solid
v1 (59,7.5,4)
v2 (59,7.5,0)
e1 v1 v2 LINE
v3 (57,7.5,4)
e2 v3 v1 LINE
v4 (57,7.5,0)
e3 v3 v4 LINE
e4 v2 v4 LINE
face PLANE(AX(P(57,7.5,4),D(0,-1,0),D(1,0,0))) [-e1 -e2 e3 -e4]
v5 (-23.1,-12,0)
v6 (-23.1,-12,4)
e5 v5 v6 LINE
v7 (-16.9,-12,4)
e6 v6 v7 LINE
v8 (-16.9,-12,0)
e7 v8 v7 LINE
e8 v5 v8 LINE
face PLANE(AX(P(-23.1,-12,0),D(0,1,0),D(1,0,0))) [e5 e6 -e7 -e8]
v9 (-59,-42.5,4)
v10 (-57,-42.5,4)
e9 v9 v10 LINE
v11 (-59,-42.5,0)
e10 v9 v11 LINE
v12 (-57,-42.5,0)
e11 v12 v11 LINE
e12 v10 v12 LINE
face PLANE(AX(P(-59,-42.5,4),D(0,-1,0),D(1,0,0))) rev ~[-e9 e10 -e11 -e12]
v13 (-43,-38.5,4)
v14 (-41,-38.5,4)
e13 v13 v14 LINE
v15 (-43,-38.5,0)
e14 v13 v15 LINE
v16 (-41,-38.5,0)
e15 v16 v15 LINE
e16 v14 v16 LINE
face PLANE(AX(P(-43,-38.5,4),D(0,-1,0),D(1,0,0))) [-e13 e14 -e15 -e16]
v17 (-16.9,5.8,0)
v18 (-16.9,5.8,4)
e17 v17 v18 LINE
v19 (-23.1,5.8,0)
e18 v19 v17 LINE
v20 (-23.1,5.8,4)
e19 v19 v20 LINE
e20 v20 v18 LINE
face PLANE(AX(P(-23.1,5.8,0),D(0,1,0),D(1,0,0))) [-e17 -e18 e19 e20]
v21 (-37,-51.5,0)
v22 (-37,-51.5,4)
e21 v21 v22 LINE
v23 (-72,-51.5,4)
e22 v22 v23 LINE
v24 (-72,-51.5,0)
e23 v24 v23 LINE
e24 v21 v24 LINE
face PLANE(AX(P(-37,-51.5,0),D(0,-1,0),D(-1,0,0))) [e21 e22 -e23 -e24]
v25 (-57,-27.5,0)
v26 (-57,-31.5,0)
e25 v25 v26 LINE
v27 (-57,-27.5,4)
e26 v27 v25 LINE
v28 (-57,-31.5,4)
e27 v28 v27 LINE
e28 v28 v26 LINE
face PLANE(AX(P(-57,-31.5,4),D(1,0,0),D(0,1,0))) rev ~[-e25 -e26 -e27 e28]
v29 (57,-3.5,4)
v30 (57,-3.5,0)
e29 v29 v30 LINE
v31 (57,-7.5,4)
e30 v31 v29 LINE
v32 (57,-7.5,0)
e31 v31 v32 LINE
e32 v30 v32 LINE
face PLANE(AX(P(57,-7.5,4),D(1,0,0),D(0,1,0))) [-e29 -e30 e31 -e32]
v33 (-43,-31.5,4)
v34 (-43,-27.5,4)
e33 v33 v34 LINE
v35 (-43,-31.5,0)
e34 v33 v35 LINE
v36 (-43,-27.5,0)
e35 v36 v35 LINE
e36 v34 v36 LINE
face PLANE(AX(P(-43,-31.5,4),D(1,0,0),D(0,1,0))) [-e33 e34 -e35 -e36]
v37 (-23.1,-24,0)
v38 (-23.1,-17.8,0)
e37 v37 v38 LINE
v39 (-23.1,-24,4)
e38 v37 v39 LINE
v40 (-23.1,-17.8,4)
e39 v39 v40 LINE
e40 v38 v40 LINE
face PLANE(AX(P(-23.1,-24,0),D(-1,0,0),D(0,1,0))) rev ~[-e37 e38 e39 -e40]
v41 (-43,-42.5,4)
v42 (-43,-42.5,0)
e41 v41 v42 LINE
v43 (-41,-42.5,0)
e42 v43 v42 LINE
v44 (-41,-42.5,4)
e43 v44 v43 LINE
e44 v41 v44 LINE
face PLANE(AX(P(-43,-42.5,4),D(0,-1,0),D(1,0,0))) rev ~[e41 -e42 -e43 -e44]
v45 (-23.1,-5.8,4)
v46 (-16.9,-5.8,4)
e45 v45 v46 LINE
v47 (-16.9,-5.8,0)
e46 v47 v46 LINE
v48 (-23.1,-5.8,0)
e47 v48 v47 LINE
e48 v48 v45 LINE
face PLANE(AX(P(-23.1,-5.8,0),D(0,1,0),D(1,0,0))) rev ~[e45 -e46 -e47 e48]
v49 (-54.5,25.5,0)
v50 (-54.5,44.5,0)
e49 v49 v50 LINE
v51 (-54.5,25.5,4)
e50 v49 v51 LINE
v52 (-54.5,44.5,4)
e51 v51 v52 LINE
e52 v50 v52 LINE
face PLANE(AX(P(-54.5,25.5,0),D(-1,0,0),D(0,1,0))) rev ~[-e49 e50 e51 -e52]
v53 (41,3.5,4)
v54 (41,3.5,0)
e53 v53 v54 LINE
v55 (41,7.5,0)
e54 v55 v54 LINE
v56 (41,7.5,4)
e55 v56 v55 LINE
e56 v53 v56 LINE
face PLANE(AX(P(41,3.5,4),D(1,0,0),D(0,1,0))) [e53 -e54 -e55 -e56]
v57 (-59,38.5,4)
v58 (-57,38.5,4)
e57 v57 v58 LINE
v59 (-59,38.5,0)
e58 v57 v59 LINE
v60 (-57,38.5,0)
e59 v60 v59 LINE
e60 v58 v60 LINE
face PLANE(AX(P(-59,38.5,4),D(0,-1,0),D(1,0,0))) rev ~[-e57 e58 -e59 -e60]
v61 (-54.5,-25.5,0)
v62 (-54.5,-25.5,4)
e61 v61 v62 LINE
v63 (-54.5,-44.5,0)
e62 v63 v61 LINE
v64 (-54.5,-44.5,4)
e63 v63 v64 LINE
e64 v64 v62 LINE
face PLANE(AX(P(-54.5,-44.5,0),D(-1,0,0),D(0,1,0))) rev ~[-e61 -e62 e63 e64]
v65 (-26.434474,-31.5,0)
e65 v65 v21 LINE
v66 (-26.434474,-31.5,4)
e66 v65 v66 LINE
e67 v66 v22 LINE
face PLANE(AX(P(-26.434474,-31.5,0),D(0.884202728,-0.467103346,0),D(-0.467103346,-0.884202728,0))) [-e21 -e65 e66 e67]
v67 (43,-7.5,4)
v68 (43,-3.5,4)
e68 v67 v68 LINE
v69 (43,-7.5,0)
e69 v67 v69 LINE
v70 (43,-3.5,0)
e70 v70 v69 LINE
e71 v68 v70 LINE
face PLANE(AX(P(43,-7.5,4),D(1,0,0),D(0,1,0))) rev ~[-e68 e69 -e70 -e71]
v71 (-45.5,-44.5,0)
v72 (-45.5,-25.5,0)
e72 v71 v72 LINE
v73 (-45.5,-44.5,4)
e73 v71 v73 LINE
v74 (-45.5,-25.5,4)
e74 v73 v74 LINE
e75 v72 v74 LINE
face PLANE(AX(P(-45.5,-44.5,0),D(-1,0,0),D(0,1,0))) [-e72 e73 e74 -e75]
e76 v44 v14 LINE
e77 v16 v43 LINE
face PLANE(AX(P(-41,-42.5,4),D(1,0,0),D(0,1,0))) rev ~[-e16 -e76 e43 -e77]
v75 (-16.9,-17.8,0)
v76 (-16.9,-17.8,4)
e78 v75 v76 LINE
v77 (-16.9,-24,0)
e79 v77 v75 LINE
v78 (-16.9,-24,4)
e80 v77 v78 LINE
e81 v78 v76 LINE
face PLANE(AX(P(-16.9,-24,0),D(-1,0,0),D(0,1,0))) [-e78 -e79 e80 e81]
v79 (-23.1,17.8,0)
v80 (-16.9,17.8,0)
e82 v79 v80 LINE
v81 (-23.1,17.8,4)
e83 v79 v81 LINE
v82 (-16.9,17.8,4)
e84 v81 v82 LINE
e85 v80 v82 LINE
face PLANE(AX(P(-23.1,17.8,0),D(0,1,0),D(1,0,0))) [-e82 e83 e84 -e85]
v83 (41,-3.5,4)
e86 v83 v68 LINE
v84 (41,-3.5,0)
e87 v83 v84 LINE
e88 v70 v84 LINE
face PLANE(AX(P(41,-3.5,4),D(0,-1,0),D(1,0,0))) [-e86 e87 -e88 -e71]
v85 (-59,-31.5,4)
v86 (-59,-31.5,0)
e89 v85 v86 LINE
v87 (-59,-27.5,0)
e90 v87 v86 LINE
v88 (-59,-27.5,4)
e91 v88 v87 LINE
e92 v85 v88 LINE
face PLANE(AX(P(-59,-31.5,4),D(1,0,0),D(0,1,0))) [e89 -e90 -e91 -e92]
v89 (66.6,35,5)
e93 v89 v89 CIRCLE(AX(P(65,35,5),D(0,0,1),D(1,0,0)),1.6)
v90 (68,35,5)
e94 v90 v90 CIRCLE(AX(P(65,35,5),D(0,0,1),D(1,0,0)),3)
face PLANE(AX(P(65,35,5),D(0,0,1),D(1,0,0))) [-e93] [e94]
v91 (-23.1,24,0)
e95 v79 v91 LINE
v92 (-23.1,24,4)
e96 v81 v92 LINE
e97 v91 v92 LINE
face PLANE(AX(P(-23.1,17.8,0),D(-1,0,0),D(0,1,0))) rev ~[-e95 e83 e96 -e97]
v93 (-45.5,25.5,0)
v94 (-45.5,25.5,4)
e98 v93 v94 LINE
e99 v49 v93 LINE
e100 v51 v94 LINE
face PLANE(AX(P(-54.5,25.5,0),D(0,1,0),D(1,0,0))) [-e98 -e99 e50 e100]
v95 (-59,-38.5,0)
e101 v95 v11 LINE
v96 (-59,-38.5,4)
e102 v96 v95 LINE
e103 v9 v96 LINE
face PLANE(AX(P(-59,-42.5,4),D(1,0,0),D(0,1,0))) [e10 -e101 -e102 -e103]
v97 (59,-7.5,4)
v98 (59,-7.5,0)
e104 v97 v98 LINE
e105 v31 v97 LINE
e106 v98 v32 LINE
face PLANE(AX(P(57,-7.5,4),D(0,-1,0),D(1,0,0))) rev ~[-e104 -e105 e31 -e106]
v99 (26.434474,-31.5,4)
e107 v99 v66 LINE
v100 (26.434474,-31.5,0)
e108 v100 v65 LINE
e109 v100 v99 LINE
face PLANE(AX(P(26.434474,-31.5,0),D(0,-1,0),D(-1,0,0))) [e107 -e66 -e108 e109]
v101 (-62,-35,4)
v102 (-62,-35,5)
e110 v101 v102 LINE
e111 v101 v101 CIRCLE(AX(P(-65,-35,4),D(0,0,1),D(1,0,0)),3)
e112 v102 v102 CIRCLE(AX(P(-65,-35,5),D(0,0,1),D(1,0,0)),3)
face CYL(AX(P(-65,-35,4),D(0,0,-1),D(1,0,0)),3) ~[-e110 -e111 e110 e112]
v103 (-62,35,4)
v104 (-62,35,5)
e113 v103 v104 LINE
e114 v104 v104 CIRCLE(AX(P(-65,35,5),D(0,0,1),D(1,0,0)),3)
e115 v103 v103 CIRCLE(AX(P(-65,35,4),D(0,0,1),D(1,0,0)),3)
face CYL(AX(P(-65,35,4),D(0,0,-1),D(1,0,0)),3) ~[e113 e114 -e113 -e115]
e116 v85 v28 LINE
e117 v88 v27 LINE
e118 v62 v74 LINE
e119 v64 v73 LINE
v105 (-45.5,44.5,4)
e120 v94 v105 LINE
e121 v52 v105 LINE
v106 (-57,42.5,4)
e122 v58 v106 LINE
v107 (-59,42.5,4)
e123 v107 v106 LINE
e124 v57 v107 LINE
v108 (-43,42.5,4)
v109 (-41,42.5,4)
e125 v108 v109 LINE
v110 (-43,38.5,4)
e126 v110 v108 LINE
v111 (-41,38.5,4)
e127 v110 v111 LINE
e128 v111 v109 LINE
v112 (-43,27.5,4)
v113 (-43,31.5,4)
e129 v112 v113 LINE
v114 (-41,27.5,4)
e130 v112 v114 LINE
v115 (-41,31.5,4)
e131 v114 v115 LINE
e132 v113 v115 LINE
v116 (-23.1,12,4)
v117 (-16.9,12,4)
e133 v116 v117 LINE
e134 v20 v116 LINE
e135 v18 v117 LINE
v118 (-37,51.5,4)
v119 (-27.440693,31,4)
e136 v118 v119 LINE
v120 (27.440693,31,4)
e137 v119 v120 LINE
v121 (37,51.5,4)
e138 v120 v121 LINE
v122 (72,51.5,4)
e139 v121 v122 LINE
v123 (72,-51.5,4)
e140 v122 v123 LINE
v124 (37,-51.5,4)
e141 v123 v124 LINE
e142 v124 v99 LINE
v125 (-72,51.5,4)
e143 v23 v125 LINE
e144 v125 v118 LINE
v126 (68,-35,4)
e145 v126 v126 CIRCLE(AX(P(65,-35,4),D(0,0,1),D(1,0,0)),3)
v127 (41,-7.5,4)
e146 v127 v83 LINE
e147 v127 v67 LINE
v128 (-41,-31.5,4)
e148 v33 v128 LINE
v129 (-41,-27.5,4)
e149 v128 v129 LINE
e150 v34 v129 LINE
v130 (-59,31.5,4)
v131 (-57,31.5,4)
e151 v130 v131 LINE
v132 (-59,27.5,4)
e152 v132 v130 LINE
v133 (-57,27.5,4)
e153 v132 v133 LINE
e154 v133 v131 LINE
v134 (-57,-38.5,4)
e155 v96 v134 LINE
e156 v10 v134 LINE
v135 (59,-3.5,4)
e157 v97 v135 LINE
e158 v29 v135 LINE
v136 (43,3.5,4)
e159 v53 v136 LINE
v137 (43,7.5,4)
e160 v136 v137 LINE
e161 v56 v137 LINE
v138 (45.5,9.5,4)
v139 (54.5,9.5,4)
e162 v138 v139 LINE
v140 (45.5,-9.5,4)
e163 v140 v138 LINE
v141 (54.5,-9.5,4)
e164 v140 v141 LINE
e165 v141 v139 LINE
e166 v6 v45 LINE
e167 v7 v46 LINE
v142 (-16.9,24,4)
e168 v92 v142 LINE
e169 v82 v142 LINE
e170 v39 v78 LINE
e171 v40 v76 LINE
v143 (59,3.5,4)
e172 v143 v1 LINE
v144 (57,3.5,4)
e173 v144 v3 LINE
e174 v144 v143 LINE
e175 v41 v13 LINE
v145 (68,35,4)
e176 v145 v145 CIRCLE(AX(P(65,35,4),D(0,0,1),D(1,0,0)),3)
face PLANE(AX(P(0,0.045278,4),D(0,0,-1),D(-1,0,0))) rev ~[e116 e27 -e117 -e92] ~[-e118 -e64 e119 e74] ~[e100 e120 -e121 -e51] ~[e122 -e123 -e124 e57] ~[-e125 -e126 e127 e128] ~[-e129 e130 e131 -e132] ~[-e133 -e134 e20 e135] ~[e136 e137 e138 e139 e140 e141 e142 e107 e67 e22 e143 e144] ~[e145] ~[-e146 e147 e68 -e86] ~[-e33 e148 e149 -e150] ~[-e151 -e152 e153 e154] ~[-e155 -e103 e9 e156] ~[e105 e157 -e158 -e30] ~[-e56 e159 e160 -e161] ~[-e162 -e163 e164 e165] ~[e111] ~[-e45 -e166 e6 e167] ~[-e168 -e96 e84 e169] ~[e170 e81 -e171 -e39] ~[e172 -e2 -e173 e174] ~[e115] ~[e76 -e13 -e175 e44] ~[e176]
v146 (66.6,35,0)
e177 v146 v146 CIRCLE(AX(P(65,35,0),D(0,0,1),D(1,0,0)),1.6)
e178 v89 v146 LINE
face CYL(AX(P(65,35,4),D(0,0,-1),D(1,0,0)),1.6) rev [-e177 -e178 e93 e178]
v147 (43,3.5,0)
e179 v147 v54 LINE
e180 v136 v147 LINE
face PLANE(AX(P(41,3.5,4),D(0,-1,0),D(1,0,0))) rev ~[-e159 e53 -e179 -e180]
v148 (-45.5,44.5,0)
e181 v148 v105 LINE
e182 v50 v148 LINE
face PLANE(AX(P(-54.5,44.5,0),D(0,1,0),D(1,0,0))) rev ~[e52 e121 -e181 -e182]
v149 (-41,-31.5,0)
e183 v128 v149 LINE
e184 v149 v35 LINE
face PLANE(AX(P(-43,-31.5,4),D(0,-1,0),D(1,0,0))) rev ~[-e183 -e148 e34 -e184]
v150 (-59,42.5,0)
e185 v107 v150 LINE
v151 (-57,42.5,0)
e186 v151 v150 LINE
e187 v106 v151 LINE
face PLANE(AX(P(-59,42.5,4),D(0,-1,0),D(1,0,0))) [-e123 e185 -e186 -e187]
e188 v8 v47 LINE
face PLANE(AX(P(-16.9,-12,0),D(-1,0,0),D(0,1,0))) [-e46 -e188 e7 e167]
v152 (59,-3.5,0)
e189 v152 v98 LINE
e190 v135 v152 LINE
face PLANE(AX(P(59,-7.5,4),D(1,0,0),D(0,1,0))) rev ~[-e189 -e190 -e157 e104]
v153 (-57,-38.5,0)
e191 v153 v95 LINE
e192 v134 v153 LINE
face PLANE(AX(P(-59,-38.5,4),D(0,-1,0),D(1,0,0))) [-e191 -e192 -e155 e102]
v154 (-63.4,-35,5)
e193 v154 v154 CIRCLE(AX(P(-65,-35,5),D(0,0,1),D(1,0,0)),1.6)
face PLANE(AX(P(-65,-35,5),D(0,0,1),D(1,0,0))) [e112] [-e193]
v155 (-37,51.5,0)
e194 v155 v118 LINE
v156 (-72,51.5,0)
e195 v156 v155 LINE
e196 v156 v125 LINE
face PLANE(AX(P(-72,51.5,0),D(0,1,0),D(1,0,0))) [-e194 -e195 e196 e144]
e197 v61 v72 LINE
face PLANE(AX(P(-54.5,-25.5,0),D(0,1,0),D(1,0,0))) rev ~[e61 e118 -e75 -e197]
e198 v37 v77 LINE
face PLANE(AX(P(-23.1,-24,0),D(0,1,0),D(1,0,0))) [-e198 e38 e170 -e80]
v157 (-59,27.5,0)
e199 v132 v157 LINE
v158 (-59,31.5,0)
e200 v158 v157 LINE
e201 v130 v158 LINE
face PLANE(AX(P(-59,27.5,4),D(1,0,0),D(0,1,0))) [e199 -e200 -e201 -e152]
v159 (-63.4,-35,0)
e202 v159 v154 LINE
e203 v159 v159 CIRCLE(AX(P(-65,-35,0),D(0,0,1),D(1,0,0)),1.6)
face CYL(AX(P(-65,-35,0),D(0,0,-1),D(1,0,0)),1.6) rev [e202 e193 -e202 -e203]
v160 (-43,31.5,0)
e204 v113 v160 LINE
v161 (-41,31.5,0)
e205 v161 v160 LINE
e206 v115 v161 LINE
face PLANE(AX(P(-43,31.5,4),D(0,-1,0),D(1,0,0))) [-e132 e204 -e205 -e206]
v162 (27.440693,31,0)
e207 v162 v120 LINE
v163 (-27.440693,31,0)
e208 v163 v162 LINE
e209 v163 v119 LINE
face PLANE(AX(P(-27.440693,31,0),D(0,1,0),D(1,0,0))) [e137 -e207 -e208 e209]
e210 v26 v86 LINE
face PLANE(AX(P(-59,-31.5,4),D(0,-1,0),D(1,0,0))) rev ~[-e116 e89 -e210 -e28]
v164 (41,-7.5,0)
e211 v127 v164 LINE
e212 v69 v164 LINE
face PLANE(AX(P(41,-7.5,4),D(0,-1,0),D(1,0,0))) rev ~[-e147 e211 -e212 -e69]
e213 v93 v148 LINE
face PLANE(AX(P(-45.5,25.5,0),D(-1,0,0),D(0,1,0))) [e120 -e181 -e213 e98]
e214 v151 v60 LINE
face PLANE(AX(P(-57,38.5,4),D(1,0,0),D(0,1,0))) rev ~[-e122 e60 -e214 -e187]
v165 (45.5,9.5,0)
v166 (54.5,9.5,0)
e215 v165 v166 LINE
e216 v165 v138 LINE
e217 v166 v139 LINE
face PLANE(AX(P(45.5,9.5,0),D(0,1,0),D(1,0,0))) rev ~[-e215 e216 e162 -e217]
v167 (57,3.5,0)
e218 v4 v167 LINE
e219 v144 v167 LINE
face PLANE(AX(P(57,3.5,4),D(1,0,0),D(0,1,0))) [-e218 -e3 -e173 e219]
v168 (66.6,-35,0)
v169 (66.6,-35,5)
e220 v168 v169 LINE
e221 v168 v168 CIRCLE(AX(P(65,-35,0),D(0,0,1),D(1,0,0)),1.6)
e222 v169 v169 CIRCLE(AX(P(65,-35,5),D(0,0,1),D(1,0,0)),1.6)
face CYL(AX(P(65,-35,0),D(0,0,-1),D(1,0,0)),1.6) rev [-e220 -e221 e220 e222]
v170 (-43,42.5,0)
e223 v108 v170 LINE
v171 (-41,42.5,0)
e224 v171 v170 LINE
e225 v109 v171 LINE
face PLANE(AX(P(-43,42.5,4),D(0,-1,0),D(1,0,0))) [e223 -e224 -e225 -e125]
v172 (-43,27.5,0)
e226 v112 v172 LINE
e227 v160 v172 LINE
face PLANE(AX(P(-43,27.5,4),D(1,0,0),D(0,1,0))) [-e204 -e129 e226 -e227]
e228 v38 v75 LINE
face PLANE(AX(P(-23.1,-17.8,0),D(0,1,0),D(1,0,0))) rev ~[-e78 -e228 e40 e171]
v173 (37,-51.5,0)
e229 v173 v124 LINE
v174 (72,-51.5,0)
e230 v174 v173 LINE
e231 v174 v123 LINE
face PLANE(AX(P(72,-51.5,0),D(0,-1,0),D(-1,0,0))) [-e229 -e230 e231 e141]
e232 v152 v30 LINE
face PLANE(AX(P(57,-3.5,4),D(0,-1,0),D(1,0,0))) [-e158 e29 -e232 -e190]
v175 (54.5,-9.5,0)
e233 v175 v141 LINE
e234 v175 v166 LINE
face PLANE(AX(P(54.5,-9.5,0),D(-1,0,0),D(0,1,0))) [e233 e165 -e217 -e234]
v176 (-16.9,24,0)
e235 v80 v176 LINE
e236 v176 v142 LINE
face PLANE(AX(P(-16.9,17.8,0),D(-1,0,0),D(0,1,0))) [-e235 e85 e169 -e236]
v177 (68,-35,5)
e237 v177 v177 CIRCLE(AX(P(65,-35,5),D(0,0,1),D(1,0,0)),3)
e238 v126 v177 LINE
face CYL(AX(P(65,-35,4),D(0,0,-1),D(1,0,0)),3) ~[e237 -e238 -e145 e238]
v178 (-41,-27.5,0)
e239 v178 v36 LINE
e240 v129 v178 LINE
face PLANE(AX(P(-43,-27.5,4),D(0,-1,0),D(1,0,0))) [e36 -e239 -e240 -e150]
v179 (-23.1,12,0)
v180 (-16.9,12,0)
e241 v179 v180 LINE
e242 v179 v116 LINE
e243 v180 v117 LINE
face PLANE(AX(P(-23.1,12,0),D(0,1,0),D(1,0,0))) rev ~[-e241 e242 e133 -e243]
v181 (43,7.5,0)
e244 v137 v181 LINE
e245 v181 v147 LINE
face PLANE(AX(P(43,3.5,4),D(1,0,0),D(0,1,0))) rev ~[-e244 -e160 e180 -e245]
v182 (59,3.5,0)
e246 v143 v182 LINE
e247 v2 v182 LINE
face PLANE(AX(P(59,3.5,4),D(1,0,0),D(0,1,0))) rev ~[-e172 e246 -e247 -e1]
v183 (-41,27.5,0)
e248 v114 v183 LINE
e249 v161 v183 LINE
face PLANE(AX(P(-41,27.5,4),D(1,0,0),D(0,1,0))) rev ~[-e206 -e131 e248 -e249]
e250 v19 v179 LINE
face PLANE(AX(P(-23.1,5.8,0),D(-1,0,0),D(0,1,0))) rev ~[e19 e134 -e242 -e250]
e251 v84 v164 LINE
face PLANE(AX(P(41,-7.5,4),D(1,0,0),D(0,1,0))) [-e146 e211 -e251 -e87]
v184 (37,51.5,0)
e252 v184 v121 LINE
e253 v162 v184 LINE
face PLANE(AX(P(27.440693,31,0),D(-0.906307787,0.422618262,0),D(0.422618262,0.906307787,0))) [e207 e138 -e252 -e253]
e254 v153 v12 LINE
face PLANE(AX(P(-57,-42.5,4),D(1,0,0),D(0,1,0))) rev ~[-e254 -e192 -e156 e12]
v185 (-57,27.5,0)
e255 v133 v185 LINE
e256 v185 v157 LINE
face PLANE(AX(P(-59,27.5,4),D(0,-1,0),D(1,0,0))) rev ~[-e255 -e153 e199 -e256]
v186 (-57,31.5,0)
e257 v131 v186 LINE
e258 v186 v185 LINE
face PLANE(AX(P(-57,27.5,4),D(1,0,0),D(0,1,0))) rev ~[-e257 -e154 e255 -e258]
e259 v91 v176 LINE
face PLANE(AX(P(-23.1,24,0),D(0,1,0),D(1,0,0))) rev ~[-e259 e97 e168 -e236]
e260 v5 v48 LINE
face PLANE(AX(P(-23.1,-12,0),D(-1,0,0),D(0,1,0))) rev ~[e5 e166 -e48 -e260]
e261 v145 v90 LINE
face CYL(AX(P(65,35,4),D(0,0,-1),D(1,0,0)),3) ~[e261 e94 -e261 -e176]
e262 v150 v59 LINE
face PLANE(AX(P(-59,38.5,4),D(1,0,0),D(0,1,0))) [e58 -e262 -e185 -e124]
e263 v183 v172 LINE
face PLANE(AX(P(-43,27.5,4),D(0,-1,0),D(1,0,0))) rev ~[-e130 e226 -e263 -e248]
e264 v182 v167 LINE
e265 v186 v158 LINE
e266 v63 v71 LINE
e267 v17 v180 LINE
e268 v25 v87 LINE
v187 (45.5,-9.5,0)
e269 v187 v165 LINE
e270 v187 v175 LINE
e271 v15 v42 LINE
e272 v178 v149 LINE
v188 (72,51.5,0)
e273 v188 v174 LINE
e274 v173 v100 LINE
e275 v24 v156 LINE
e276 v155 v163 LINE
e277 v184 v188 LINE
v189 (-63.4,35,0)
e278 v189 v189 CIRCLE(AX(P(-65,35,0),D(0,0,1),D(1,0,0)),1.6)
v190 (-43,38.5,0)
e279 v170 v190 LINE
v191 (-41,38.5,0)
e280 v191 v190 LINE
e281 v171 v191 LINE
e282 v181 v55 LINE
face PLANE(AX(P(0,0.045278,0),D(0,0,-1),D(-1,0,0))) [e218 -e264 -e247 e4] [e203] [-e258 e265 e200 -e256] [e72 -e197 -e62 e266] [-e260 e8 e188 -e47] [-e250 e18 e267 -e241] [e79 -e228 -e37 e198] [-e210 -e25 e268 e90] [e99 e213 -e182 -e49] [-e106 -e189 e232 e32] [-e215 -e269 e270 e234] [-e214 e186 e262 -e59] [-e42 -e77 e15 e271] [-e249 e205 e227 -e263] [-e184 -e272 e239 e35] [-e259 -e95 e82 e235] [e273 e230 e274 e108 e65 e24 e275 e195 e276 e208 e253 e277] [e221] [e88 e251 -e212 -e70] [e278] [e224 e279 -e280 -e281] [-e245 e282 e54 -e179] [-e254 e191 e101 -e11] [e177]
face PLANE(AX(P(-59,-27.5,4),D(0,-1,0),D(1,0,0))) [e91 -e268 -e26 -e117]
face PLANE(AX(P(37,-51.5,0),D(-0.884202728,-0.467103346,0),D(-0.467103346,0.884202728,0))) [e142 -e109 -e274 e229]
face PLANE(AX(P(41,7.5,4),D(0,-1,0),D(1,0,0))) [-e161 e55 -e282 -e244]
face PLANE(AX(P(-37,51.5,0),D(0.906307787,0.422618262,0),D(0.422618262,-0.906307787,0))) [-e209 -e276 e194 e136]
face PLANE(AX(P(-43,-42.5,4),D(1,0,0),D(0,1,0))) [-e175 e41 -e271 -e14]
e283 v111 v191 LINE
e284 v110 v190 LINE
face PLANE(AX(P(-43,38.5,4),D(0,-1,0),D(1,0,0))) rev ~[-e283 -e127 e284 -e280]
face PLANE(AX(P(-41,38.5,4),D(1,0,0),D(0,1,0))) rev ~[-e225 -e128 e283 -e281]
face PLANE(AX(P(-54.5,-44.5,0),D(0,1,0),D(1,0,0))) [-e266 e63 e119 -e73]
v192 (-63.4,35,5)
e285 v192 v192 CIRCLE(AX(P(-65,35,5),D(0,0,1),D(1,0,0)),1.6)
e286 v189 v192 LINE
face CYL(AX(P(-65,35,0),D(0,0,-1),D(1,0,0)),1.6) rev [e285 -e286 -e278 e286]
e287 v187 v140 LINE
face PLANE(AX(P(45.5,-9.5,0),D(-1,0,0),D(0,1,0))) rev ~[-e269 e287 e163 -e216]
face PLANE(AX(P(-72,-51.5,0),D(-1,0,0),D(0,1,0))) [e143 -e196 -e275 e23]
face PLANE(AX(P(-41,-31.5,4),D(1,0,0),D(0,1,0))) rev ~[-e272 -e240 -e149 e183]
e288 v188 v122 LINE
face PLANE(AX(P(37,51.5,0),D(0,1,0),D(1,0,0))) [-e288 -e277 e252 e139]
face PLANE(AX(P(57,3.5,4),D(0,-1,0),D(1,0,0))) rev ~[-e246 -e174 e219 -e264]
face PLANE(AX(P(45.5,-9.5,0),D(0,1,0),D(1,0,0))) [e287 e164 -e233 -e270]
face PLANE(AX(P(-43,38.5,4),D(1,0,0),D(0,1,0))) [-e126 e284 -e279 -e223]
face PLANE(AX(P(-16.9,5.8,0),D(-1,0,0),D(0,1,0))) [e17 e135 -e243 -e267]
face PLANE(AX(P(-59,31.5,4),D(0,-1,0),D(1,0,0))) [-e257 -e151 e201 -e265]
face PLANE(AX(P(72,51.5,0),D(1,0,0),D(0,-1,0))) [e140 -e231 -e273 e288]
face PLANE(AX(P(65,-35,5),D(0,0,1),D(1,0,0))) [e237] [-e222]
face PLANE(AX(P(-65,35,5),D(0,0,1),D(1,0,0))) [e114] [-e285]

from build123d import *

# Parameters (mm, degrees)
SKETCH_R      = 1.6
SKETCH_W      = 9
SKETCH_H      = 19
SKETCH_W_2    = 6.2
SKETCH_H_2    = 6.2
PAD_DEPTH     = 4
SKETCH001_R   = 3
SKETCH001_R_2 = 1.6
PAD001_DEPTH  = 1
SKETCH002_W   = 2
SKETCH002_H   = 4
POCKET_DEPTH  = 4.001


with BuildPart() as part:
    # Sketch → Pad (new body)
    with BuildSketch(Plane.XY):
        Polygon((-72, 51.5), (-37, 51.5), (-27.440693, 31), (27.440693, 31), (37, 51.5), (72, 51.5), (72, -51.5), (37, -51.5), (26.434474, -31.5), (-26.434474, -31.5), (-37, -51.5), (-72, -51.5), align=None)
        with Locations((65, 35)):
            Circle(SKETCH_R, mode=Mode.SUBTRACT)
        with Locations((65, -35)):
            Circle(SKETCH_R, mode=Mode.SUBTRACT)
        with Locations((-65, 35)):
            Circle(SKETCH_R, mode=Mode.SUBTRACT)
        with Locations((-65, -35)):
            Circle(SKETCH_R, mode=Mode.SUBTRACT)
        with Locations((-50, 35)):
            Rectangle(SKETCH_W, SKETCH_H, mode=Mode.SUBTRACT)
        with Locations((-50, -35)):
            Rectangle(SKETCH_W, SKETCH_H, mode=Mode.SUBTRACT)
        with Locations((50, 0)):
            Rectangle(SKETCH_W, SKETCH_H, mode=Mode.SUBTRACT)
        with Locations((-20, 20.9)):
            Rectangle(SKETCH_W_2, SKETCH_H_2, mode=Mode.SUBTRACT)
        with Locations((-20, 8.9)):
            Rectangle(SKETCH_W_2, SKETCH_H_2, mode=Mode.SUBTRACT)
        with Locations((-20, -20.9)):
            Rectangle(SKETCH_W_2, SKETCH_H_2, mode=Mode.SUBTRACT)
        with Locations((-20, -8.9)):
            Rectangle(SKETCH_W_2, SKETCH_H_2, mode=Mode.SUBTRACT)
    extrude(amount=PAD_DEPTH)

    # Sketch001 → Pad001 (new body)
    with BuildSketch(Plane.XY.offset(4)):
        with Locations((65, 35)):
            Circle(SKETCH001_R)
        with Locations((65, 35)):
            Circle(SKETCH001_R_2, mode=Mode.SUBTRACT)
        with Locations((-65, 35)):
            Circle(SKETCH001_R)
        with Locations((-65, 35)):
            Circle(SKETCH001_R_2, mode=Mode.SUBTRACT)
        with Locations((-65, -35)):
            Circle(SKETCH001_R)
        with Locations((-65, -35)):
            Circle(SKETCH001_R_2, mode=Mode.SUBTRACT)
        with Locations((65, -35)):
            Circle(SKETCH001_R)
        with Locations((65, -35)):
            Circle(SKETCH001_R_2, mode=Mode.SUBTRACT)
    extrude(amount=PAD001_DEPTH)

    # Sketch002 → Pocket (cut, through all)
    with BuildSketch(Plane.XY.offset(4)):
        with Locations((-42, 40.5)):
            Rectangle(SKETCH002_W, SKETCH002_H)
        with Locations((-42, 29.5)):
            Rectangle(SKETCH002_W, SKETCH002_H)
        with Locations((-58, 40.5)):
            Rectangle(SKETCH002_W, SKETCH002_H)
        with Locations((-58, 29.5)):
            Rectangle(SKETCH002_W, SKETCH002_H)
        with Locations((42, 5.5)):
            Rectangle(SKETCH002_W, SKETCH002_H)
        with Locations((58, 5.5)):
            Rectangle(SKETCH002_W, SKETCH002_H)
        with Locations((58, -5.5)):
            Rectangle(SKETCH002_W, SKETCH002_H)
        with Locations((42, -5.5)):
            Rectangle(SKETCH002_W, SKETCH002_H)
        with Locations((-42, -29.5)):
            Rectangle(SKETCH002_W, SKETCH002_H)
        with Locations((-58, -29.5)):
            Rectangle(SKETCH002_W, SKETCH002_H)
        with Locations((-42, -40.5)):
            Rectangle(SKETCH002_W, SKETCH002_H)
        with Locations((-58, -40.5)):
            Rectangle(SKETCH002_W, SKETCH002_H)
    extrude(amount=-POCKET_DEPTH, mode=Mode.SUBTRACT)


solid = part.part
